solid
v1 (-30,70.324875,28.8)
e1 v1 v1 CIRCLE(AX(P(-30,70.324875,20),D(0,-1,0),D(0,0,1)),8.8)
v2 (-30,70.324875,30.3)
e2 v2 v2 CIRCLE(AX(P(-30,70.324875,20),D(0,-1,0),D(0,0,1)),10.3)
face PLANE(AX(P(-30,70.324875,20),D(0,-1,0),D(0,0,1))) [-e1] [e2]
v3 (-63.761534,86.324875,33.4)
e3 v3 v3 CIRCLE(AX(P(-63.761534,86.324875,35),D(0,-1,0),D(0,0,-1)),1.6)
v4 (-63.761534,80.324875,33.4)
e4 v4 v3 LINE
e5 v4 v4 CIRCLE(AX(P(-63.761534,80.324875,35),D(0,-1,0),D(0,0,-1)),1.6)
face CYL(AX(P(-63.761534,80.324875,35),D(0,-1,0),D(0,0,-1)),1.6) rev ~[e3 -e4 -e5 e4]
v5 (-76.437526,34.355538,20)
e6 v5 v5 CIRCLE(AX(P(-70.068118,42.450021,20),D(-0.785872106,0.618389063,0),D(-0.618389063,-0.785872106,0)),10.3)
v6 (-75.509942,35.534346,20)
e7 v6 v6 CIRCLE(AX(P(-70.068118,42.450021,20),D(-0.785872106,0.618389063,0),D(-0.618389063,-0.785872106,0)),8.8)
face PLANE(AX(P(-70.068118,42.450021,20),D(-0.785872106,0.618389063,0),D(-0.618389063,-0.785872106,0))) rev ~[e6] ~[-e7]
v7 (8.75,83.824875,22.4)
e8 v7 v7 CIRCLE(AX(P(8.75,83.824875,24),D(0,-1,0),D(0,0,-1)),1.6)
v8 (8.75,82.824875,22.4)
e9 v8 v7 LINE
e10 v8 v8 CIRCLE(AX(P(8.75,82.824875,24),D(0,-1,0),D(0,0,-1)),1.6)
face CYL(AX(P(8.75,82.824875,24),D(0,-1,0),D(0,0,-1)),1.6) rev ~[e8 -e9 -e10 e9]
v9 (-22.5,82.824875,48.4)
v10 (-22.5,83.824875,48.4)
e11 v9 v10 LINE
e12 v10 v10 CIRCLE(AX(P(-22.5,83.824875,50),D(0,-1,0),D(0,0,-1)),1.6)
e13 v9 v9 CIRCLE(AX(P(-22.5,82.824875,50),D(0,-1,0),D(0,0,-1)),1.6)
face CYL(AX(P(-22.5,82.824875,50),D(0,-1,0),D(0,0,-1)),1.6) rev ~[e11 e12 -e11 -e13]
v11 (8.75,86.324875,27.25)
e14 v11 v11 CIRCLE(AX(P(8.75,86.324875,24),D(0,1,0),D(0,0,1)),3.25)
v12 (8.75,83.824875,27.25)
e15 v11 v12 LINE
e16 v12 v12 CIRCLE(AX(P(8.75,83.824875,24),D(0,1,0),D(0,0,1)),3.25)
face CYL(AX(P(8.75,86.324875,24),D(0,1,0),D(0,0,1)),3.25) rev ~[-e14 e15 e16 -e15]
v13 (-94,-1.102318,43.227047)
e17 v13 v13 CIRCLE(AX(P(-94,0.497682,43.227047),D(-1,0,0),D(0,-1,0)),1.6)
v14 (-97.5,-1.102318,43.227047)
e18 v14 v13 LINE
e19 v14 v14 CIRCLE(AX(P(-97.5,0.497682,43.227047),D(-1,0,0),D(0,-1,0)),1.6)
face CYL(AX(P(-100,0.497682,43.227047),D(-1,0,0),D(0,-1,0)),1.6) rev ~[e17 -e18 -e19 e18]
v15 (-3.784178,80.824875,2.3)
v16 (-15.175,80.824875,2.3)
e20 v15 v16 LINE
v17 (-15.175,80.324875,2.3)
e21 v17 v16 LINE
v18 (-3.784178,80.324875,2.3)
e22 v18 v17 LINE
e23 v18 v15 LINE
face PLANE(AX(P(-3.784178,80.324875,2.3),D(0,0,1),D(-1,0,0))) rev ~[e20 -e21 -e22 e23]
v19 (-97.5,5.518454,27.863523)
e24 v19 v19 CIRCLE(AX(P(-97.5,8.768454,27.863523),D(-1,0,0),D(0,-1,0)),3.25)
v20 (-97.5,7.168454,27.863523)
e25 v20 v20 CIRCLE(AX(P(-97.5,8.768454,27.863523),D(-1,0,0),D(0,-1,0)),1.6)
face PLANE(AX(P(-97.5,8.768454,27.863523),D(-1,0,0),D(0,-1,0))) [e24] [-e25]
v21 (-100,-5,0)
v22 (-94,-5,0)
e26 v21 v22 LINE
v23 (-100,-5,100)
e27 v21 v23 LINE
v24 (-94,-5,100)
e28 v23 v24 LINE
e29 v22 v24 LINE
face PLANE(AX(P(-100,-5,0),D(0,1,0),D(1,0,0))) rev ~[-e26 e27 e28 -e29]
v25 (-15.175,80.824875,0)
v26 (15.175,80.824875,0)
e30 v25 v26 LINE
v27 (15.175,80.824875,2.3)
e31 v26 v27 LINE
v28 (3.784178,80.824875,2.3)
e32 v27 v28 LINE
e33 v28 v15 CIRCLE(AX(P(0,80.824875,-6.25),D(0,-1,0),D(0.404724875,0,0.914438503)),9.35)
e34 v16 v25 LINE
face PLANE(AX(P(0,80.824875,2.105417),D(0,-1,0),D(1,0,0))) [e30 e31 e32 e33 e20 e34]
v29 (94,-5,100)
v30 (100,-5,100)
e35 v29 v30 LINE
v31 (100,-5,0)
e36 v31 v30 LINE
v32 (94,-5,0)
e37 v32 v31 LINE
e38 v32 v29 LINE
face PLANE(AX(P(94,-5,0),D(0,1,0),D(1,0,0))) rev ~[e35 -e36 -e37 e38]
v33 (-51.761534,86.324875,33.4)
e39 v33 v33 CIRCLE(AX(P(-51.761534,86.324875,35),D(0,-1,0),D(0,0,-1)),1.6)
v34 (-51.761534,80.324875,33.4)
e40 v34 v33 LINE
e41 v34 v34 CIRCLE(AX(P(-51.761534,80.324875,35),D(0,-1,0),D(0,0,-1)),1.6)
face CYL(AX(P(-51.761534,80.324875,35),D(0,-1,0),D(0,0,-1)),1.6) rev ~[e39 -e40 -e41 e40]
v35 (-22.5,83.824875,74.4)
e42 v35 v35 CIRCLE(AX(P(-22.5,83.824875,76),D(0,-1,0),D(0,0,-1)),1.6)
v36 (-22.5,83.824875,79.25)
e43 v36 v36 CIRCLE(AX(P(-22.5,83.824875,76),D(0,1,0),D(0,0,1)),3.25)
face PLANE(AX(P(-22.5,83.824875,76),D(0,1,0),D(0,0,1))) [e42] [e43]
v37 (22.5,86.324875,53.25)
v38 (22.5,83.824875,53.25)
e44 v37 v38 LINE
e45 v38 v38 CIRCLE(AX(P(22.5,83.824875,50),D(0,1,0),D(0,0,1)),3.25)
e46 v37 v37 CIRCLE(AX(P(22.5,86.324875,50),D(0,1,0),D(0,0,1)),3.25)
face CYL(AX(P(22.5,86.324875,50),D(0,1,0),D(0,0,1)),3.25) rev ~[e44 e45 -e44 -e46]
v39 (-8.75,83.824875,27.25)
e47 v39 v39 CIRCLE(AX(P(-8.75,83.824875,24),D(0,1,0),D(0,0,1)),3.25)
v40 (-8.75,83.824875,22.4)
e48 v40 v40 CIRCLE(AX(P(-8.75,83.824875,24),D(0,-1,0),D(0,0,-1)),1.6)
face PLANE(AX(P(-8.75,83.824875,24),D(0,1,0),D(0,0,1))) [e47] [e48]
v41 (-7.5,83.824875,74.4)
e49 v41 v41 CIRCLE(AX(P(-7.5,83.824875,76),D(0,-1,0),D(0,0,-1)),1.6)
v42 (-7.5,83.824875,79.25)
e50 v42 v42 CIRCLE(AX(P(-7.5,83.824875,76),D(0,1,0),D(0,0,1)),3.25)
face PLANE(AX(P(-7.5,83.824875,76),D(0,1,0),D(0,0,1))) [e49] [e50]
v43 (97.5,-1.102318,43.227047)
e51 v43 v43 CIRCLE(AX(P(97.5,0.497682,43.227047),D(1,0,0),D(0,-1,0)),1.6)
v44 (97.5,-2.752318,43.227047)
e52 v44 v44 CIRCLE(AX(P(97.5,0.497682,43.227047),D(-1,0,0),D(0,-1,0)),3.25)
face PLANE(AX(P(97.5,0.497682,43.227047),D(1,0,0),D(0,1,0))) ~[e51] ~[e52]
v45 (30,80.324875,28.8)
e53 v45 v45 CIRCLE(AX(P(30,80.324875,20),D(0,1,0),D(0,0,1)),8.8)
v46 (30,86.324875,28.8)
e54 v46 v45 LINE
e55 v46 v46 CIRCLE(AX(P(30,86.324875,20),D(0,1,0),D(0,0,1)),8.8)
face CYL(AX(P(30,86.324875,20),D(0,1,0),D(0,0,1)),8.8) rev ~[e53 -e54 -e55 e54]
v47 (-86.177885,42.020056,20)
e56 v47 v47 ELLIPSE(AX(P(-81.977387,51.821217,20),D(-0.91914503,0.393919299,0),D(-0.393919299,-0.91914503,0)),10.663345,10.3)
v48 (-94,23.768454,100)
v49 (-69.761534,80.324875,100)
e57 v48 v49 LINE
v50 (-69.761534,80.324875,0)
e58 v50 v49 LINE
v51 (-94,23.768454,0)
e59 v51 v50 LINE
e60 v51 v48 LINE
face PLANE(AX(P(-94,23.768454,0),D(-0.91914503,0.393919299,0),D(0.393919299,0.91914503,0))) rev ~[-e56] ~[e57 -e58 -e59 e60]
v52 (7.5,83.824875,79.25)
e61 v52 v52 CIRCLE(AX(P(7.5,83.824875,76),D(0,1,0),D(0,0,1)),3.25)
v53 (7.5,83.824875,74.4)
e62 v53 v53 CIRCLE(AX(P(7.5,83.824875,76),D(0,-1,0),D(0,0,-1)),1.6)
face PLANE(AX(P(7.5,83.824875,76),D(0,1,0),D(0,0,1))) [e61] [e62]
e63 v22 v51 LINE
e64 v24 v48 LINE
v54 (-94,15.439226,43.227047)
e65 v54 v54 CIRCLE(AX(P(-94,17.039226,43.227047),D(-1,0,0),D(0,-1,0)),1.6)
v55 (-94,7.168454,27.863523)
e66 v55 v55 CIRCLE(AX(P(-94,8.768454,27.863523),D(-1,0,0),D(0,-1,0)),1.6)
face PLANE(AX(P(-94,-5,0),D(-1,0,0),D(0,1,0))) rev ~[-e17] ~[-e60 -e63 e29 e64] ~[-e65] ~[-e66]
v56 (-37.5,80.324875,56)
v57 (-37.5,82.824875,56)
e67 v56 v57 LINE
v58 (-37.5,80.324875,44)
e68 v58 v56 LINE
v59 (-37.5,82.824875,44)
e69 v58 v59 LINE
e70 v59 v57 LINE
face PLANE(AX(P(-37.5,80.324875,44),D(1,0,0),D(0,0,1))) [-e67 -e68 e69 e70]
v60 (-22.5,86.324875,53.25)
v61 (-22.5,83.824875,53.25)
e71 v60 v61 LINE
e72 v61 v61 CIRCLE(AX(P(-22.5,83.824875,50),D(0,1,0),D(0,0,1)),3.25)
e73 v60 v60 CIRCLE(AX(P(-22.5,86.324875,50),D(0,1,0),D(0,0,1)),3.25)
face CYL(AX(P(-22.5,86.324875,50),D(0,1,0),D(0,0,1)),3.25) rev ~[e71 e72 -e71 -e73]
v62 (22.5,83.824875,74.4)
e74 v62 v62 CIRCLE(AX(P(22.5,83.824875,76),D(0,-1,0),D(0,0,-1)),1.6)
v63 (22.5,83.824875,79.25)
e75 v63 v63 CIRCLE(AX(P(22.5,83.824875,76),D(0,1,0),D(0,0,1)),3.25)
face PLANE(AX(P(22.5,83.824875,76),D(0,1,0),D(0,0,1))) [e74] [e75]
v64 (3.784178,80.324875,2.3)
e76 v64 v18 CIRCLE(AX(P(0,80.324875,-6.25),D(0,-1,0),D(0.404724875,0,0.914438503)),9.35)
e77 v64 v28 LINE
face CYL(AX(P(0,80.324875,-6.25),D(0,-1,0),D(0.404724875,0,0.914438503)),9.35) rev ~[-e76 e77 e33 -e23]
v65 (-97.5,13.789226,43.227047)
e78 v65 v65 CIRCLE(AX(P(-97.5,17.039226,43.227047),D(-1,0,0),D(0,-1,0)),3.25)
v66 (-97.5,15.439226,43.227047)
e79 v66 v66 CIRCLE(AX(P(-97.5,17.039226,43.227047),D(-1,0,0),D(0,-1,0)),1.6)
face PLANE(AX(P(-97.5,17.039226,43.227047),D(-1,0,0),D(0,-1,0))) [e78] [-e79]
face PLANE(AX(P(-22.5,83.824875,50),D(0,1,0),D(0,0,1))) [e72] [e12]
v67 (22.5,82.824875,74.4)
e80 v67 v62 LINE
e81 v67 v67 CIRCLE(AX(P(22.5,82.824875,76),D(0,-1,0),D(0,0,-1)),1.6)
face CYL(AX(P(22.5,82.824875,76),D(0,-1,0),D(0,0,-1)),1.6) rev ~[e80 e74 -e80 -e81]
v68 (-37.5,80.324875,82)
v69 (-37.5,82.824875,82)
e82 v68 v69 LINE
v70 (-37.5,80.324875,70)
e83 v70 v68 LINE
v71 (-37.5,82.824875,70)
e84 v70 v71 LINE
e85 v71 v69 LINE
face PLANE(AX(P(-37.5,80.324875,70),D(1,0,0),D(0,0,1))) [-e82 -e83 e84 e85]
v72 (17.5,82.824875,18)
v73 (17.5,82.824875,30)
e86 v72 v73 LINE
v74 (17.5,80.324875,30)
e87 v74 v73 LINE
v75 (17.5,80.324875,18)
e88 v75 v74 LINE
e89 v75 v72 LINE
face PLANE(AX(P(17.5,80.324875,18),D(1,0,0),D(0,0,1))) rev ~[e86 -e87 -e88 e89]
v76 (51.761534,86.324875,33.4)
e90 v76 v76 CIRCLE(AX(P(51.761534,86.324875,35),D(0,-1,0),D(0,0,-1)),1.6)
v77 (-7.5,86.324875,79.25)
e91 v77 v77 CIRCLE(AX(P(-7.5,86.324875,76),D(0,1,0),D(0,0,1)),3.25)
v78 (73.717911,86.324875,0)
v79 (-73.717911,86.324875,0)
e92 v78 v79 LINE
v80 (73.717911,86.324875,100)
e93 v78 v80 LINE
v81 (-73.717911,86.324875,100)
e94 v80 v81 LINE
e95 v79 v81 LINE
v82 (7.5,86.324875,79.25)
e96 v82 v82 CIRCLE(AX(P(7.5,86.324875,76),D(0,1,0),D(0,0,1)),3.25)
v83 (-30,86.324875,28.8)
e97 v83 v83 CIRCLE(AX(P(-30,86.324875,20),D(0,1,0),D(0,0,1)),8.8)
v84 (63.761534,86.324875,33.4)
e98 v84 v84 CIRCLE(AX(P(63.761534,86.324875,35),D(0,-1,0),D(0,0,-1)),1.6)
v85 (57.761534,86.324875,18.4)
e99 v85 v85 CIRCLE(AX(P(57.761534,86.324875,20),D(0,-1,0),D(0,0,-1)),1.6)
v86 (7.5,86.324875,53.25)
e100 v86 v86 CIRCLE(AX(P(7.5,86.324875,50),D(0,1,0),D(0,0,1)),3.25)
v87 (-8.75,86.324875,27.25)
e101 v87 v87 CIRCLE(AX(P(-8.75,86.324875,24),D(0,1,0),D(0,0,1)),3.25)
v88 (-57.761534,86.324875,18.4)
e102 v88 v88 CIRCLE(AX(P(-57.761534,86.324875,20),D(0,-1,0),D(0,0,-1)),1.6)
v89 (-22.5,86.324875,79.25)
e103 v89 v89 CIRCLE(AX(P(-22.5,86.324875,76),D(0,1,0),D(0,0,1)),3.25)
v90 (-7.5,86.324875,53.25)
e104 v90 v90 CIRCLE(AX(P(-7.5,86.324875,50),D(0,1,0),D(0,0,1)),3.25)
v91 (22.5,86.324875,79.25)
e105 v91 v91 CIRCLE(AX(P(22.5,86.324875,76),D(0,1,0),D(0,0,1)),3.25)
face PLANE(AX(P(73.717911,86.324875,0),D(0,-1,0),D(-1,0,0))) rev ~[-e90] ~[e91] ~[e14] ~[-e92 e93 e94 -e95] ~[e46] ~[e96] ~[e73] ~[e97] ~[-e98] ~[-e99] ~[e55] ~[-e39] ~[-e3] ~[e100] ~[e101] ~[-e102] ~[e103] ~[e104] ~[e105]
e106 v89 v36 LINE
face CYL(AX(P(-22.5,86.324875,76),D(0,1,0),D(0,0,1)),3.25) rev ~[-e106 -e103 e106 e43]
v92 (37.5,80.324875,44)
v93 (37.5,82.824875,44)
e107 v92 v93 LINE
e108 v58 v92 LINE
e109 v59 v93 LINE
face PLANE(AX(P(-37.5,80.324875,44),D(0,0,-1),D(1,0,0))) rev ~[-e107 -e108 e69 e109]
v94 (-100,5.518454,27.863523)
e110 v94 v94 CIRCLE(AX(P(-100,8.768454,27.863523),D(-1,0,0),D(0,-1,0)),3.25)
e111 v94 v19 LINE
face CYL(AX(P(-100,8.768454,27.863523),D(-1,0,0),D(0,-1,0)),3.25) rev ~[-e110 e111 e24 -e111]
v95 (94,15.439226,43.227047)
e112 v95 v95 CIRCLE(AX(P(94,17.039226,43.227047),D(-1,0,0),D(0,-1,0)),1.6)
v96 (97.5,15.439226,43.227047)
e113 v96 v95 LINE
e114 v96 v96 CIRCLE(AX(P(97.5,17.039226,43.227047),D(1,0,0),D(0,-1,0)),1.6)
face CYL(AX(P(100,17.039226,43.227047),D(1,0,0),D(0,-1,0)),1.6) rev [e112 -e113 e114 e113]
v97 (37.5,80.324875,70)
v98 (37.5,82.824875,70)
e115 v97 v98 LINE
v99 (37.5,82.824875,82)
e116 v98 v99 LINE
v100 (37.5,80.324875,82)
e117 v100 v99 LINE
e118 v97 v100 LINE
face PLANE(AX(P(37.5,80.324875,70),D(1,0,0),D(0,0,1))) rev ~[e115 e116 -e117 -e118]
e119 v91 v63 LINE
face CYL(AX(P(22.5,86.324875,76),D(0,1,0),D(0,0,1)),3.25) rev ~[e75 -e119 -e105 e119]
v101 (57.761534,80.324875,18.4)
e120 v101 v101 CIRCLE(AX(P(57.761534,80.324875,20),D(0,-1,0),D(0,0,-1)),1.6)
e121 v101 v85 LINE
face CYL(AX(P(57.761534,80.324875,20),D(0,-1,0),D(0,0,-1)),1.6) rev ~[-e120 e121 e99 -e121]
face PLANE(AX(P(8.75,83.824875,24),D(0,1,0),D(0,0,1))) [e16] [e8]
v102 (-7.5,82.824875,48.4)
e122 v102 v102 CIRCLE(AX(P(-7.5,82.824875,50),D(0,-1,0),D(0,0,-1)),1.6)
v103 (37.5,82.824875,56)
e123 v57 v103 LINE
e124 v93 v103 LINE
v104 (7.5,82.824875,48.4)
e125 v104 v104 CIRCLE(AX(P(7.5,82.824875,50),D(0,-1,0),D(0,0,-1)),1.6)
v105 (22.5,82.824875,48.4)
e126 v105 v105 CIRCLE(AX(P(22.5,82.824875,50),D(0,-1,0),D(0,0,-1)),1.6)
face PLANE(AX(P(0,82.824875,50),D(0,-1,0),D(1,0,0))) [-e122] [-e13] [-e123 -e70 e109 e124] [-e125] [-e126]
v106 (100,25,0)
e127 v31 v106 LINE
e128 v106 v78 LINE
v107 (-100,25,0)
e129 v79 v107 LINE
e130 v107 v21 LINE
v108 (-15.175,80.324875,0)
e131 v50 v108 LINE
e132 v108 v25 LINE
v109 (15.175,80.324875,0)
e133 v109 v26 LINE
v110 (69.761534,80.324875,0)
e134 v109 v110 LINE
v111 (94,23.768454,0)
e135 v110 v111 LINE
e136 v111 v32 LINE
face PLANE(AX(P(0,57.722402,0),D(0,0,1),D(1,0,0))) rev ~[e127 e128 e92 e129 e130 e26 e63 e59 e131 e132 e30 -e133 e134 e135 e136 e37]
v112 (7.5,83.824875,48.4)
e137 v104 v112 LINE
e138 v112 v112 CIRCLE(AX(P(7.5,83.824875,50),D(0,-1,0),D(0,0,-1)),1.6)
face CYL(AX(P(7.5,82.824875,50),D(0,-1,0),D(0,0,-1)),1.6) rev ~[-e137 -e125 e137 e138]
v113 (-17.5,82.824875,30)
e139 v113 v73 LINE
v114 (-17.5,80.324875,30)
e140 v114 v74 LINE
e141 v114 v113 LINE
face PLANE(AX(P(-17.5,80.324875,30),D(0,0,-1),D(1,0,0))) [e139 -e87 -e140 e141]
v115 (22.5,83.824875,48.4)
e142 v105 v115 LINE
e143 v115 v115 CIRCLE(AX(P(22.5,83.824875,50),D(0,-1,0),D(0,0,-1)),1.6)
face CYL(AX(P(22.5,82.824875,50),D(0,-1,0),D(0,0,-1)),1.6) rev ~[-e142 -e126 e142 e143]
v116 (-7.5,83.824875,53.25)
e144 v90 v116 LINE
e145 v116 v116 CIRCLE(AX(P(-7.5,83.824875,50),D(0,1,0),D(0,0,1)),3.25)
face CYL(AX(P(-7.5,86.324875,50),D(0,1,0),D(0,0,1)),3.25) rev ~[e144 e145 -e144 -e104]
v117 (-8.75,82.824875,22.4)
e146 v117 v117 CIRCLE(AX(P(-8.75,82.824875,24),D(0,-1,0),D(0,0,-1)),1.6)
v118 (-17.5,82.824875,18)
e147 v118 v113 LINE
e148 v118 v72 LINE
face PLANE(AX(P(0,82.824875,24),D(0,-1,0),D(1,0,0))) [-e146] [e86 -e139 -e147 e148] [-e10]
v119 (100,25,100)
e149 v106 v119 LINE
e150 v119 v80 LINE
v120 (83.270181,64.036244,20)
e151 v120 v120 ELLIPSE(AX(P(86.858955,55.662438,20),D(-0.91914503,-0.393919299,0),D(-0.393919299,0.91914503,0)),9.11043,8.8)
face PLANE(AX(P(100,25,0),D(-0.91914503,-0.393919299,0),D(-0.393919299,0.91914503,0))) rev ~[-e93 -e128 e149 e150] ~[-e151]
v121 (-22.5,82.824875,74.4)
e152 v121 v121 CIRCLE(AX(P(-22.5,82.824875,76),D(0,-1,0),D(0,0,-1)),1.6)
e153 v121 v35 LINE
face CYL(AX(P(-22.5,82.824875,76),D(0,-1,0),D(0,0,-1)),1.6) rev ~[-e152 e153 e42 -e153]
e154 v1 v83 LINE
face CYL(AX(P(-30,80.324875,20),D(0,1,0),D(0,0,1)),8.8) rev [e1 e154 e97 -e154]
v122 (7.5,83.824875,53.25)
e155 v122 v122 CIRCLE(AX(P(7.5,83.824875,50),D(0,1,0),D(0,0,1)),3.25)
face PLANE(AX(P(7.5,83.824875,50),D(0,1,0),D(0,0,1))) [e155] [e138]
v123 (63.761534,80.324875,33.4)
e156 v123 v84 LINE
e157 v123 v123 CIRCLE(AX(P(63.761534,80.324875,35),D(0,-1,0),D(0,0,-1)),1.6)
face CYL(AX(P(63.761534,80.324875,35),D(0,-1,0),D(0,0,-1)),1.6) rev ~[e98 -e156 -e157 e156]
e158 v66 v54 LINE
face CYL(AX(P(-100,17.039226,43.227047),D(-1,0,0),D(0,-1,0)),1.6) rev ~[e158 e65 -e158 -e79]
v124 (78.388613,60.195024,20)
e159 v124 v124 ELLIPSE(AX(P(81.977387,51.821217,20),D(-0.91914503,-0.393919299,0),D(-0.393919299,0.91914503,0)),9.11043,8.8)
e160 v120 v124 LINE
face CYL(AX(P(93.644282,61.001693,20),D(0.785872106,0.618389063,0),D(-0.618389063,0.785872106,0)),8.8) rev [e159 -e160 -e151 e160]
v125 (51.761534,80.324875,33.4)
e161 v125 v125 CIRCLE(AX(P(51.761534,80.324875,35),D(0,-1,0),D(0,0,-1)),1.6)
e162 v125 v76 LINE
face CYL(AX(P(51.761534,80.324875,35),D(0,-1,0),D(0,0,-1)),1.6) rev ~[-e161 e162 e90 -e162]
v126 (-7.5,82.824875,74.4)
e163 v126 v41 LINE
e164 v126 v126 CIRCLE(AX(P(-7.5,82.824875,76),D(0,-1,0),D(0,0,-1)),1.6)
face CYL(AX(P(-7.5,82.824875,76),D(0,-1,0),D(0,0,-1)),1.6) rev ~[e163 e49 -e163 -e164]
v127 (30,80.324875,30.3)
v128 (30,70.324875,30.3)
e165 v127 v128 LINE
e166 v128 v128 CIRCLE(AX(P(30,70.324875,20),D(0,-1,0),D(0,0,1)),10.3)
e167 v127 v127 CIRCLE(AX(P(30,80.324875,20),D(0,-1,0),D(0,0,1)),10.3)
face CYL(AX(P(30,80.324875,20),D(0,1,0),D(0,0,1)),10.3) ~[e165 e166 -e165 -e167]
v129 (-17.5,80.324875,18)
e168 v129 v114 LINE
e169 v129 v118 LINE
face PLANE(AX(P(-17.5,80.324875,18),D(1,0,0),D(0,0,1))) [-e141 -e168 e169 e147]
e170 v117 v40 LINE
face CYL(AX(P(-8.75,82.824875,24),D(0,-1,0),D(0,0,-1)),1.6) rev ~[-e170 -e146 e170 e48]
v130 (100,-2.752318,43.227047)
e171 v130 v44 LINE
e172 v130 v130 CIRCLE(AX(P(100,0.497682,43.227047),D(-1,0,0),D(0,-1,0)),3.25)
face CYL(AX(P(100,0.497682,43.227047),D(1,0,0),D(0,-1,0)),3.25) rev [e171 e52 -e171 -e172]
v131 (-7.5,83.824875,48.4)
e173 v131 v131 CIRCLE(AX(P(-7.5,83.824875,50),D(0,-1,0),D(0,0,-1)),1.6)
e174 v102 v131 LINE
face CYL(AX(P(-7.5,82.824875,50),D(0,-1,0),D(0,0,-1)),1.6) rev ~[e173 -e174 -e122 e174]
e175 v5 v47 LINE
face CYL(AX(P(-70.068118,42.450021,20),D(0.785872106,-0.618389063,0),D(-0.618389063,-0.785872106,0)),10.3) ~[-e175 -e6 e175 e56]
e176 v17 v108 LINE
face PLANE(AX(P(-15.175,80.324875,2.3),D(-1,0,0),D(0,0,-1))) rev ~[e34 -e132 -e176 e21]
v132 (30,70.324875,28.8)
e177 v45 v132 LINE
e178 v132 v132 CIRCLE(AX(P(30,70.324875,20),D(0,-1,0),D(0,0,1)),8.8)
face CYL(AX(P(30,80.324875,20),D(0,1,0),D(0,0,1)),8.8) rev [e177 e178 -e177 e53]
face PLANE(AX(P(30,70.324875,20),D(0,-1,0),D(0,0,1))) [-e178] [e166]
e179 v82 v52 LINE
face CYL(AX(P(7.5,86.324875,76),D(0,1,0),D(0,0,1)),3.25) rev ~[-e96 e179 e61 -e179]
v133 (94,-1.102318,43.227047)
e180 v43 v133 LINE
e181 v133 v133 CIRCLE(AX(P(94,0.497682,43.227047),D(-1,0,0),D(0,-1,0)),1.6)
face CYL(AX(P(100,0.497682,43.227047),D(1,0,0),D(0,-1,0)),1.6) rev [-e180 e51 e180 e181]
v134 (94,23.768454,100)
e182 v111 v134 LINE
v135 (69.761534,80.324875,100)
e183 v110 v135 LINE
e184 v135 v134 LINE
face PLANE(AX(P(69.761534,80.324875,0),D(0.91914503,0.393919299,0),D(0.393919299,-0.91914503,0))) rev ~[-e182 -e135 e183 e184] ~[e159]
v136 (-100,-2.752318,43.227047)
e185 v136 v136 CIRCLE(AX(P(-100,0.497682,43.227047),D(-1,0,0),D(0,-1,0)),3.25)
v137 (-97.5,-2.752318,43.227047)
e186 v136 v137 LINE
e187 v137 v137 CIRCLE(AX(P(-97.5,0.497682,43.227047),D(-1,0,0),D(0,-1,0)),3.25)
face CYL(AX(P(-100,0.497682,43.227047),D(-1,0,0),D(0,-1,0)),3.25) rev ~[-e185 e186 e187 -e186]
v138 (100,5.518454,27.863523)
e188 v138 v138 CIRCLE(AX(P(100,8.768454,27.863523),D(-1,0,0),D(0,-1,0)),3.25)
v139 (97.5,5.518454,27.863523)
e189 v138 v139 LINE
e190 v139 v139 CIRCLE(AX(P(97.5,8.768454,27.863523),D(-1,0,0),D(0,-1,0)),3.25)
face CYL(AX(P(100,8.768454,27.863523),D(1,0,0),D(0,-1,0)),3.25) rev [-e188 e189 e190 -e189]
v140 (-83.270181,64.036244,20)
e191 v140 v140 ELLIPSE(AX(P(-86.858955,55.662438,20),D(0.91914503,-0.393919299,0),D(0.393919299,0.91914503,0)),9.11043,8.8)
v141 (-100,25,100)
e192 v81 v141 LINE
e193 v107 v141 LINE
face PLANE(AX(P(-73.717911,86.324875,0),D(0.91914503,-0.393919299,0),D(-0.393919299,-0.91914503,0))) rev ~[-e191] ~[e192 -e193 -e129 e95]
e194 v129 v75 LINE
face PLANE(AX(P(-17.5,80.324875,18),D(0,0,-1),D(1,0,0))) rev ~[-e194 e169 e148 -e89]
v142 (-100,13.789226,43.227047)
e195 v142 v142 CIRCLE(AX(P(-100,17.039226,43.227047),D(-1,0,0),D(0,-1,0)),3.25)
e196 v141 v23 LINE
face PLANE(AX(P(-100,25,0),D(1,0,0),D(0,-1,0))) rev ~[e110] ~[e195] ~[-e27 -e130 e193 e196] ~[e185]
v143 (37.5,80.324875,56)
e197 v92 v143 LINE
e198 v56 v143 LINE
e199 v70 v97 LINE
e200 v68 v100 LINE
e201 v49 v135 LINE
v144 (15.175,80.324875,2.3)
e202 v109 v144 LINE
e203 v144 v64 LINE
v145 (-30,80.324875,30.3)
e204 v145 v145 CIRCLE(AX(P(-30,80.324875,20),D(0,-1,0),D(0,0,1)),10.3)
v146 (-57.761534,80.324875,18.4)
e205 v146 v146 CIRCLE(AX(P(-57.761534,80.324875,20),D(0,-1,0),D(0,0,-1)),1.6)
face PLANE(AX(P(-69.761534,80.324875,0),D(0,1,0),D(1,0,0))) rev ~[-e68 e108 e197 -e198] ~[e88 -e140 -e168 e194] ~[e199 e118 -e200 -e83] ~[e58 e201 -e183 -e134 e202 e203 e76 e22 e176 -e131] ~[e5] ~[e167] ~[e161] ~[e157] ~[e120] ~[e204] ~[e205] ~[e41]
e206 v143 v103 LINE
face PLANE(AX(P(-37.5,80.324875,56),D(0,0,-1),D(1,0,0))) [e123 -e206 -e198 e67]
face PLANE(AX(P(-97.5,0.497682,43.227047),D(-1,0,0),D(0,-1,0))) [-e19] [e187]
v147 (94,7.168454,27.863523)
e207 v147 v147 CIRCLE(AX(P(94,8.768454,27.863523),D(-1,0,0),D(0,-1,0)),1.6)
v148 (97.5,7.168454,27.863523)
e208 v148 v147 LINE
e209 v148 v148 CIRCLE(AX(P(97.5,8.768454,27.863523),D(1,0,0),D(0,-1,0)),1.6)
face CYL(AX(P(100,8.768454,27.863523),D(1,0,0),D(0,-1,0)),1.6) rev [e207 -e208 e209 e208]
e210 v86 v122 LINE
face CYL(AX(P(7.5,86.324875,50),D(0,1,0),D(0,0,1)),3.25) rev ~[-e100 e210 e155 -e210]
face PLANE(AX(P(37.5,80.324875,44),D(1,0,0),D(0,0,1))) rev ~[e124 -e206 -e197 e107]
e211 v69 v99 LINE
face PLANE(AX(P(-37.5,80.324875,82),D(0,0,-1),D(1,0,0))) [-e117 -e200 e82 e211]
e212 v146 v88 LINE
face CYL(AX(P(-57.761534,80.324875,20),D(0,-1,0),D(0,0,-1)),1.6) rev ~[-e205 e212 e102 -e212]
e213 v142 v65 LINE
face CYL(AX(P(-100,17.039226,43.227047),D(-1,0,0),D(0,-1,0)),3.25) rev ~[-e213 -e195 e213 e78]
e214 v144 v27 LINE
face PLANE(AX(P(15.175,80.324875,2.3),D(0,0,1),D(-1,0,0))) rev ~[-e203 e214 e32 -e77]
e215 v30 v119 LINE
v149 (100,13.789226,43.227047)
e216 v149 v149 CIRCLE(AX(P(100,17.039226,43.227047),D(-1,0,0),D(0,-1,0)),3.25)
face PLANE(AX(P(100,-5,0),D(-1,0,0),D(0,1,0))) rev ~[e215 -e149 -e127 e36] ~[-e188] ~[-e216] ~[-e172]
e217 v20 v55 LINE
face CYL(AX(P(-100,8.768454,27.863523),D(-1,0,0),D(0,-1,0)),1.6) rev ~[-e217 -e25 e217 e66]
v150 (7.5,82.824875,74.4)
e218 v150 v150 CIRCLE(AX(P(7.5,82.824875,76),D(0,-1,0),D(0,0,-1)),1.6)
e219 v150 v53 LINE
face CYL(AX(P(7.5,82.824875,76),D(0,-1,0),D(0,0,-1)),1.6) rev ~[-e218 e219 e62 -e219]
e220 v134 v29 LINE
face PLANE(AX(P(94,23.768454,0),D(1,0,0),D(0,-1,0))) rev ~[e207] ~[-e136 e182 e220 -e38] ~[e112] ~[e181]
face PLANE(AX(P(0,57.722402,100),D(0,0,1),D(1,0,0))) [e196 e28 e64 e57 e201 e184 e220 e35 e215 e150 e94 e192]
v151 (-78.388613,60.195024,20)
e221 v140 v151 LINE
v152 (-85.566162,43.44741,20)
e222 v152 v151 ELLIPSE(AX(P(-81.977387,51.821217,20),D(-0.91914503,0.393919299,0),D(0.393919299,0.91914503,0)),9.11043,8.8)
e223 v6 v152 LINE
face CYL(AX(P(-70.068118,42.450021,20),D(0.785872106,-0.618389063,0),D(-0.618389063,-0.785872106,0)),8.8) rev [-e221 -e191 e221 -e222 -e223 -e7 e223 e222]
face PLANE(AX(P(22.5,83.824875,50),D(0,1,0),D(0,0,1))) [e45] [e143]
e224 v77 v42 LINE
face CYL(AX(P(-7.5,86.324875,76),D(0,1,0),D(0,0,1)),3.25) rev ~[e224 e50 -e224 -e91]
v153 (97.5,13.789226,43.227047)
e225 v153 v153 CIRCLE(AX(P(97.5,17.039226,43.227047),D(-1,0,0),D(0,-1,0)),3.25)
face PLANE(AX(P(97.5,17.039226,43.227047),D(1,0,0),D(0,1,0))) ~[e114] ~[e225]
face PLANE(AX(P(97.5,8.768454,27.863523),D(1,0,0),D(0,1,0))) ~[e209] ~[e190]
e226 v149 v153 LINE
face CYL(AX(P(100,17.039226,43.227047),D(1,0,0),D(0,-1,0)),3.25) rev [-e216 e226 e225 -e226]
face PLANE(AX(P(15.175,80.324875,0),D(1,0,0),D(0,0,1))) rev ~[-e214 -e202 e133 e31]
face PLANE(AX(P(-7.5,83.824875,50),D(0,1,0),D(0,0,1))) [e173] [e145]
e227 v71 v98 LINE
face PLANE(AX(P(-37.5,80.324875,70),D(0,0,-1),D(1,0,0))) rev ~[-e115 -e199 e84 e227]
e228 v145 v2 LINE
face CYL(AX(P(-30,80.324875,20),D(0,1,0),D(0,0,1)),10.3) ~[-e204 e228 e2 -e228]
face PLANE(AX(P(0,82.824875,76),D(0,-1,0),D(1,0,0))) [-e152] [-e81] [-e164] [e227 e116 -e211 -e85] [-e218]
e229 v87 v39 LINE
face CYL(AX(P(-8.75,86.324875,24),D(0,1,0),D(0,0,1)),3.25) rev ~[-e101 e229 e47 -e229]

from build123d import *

# Parameters (mm, degrees)
SALIENTE_EXTRUIR1_DEPTH = 100
CORTAR_EXTRUIR1_REACH   = 170.346
CROQUIS3_R              = 8.8
CORTAR_EXTRUIR2_REACH   = 226.945
CROQUIS4_R              = 8.8
CORTAR_EXTRUIR3_DEPTH   = 0.5
CORTAR_EXTRUIR4_REACH   = 241.691
CROQUIS6_R              = 1.6
CROQUIS7_R              = 3.25
CORTAR_EXTRUIR5_DEPTH   = 2.5
CROQUIS8_W              = 75
CROQUIS8_H              = 12
CROQUIS8_W_2            = 35
CORTAR_EXTRUIR6_DEPTH   = 2.5
CORTAR_EXTRUIR7_REACH   = 168.473
CROQUIS9_R              = 1.6
CROQUIS10_R             = 3.25
CORTAR_EXTRUIR8_DEPTH   = 2.5
CROQUIS11_R             = 10.3
CROQUIS11_R_2           = 8.8
SALIENTE_EXTRUIR2_DEPTH = 10
SALIENTE_EXTRUIR3_REACH = 201.802
CROQUIS12_R             = 10.3
CROQUIS12_R_2           = 8.8
CORTAR_EXTRUIR9_REACH   = 167.168
CROQUIS13_R             = 1.6


with BuildPart() as part:
    # Croquis1 → Saliente-Extruir1 (new body)
    with BuildSketch(Plane.XY):
        Polygon((-100, 25), (-100, -5), (-94, -5), (-94, 23.768453788), (-69.761533754, 80.324875029), (69.761533754, 80.324875029), (94, 23.768453788), (94, -5), (100, -5), (100, 25), (73.717910702, 86.324875029), (-73.717910702, 86.324875029), align=None)
    extrude(amount=SALIENTE_EXTRUIR1_DEPTH)

    # Croquis3 → Cortar-Extruir1 (cut, up to next)
    with BuildSketch(Plane(origin=(0, 86.324875029, 0), x_dir=(1, 0, 0), z_dir=(0, 1, 0)), mode=Mode.PRIVATE) as cortar_extruir1_sk1:
        with Locations(Location((-30, -20, 0), (0, 0, 270))):
            Circle(CROQUIS3_R)
    cortar_extruir1_tool1 = extrude(cortar_extruir1_sk1.sketch, amount=-CORTAR_EXTRUIR1_REACH, mode=Mode.PRIVATE) & part.part
    # Croquis3 → Cortar-Extruir1 (cut, up to next)
    with BuildSketch(Plane(origin=(0, 86.324875029, 0), x_dir=(1, 0, 0), z_dir=(0, 1, 0)), mode=Mode.PRIVATE) as cortar_extruir1_sk2:
        with Locations(Location((30, -20, 0), (0, 0, 270))):
            Circle(CROQUIS3_R)
    cortar_extruir1_tool2 = extrude(cortar_extruir1_sk2.sketch, amount=-CORTAR_EXTRUIR1_REACH, mode=Mode.PRIVATE) & part.part
    add(cortar_extruir1_tool1.solids().sort_by_distance((-30, 86.324875, 20))[0], mode=Mode.SUBTRACT)
    add(cortar_extruir1_tool2.solids().sort_by_distance((30, 86.324875, 20))[0], mode=Mode.SUBTRACT)

    # Cortar-Extruir2: up to this plane
    cortar_extruir2_end = Plane(origin=(-94, 23.768453788, 100), z_dir=(-0.9191450300180581, 0.3939192985791672, 0))
    # Croquis4 → Cortar-Extruir2 (cut, up to the surface)
    with BuildSketch(Plane(origin=(-87.479517168, 68.836107355, 0), x_dir=(0, 0, -1), z_dir=(-0.7858721058939679, 0.6183890629512945, 0)), mode=Mode.PRIVATE) as cortar_extruir2_sk1:
        with Locations(Location((-20, 9.96907102, 0), (0, 0, 270))):
            Circle(CROQUIS4_R)
    cortar_extruir2_tool1 = split(extrude(cortar_extruir2_sk1.sketch, amount=-CORTAR_EXTRUIR2_REACH, mode=Mode.PRIVATE), bisect_by=cortar_extruir2_end, keep=Keep.BOTH, mode=Mode.PRIVATE)
    cortar_extruir2 = cortar_extruir2_tool1.solids().sort_by_distance((-93.644282, 61.001693, 20))[0]
    add(cortar_extruir2, mode=Mode.SUBTRACT)

    # Simetría1: Cortar-Extruir2 across plane
    add(cortar_extruir2.mirror(Plane(origin=(0, 0, 0), x_dir=(0, 0, 1), z_dir=(1, 0, 0))), mode=Mode.SUBTRACT)

    # Croquis5 → Cortar-Extruir3 (cut)
    with BuildSketch(Plane.XZ.offset(-80.324875029)):
        with BuildLine():
            Line((14.875, 0), (15.175, 0))
            Line((15.175, 0), (15.175, 2.3))
            Line((15.175, 2.3), (3.784177586, 2.3))
            ThreePointArc((3.784177586, 2.3), (0, 3.1), (-3.784177586, 2.3))
            Line((-3.784177586, 2.3), (-15.175, 2.3))
            Line((-15.175, 2.3), (-15.175, 0))
            Line((-15.175, 0), (-14.875, 0))
            Line((-14.875, 0), (-14.875, 2))
            Line((-14.875, 2), (-3.720215048, 2))
            ThreePointArc((-3.720215048, 2), (0, 2.8), (3.720215048, 2))
            Line((3.720215048, 2), (14.875, 2))
            Line((14.875, 2), (14.875, 0))
        make_face()
        with BuildLine():
            Line((3.261901286, 0), (14.875, 0))
            Line((14.875, 0), (14.875, 2))
            Line((14.875, 2), (3.720215048, 2))
            ThreePointArc((3.720215048, 2), (0, 2.8), (-3.720215048, 2))
            Line((-3.720215048, 2), (-14.875, 2))
            Line((-14.875, 2), (-14.875, 0))
            Line((-14.875, 0), (-3.261901286, 0))
            ThreePointArc((-3.261901286, 0), (0, 0.8), (3.261901286, 0))
        make_face()
        with BuildLine():
            Line((-3.261901286, 0), (3.261901286, 0))
            ThreePointArc((3.261901286, 0), (0, 0.8), (-3.261901286, 0))
        make_face()
    extrude(amount=-CORTAR_EXTRUIR3_DEPTH, mode=Mode.SUBTRACT)

    # Croquis6 → Cortar-Extruir4 (cut, up to next)
    with BuildSketch(Plane.ZY.offset(100), mode=Mode.PRIVATE) as cortar_extruir4_sk1:
        with Locations(Location((43.227046774, 0.497681725, 0), (0, 0, 270))):
            Circle(CROQUIS6_R)
    cortar_extruir4_tool1 = extrude(cortar_extruir4_sk1.sketch, amount=-CORTAR_EXTRUIR4_REACH, mode=Mode.PRIVATE) & part.part
    # Croquis6 → Cortar-Extruir4 (cut, up to next)
    with BuildSketch(Plane.ZY.offset(100), mode=Mode.PRIVATE) as cortar_extruir4_sk2:
        with Locations(Location((27.863523387, 8.768453788, 0), (0, 0, 270))):
            Circle(CROQUIS6_R)
    cortar_extruir4_tool2 = extrude(cortar_extruir4_sk2.sketch, amount=-CORTAR_EXTRUIR4_REACH, mode=Mode.PRIVATE) & part.part
    # Croquis6 → Cortar-Extruir4 (cut, up to next)
    with BuildSketch(Plane.ZY.offset(100), mode=Mode.PRIVATE) as cortar_extruir4_sk3:
        with Locations(Location((43.227046774, 17.039225851, 0), (0, 0, 270))):
            Circle(CROQUIS6_R)
    cortar_extruir4_tool3 = extrude(cortar_extruir4_sk3.sketch, amount=-CORTAR_EXTRUIR4_REACH, mode=Mode.PRIVATE) & part.part
    cortar_extruir4_1 = cortar_extruir4_tool1.solids().sort_by_distance((-100, 0.497682, 43.227047))[0]
    add(cortar_extruir4_1, mode=Mode.SUBTRACT)
    cortar_extruir4_2 = cortar_extruir4_tool2.solids().sort_by_distance((-100, 8.768454, 27.863523))[0]
    add(cortar_extruir4_2, mode=Mode.SUBTRACT)
    cortar_extruir4_3 = cortar_extruir4_tool3.solids().sort_by_distance((-100, 17.039226, 43.227047))[0]
    add(cortar_extruir4_3, mode=Mode.SUBTRACT)
    cortar_extruir4 = cortar_extruir4_1 + cortar_extruir4_2 + cortar_extruir4_3  # Cortar-Extruir4 as one shape, for the pattern or mirror that repeats it

    # Croquis7 → Cortar-Extruir5 (cut)
    with BuildSketch(Plane.ZY.offset(100)):
        with Locations(Location((27.863523387, 8.768453788, 0), (0, 0, 270))):
            Circle(CROQUIS7_R)
        with Locations(Location((43.227046774, 0.497681725, 0), (0, 0, 270))):
            Circle(CROQUIS7_R)
        with Locations(Location((43.227046774, 17.039225851, 0), (0, 0, 270))):
            Circle(CROQUIS7_R)
    cortar_extruir5 = extrude(amount=-CORTAR_EXTRUIR5_DEPTH, mode=Mode.SUBTRACT)

    # Simetría2: Cortar-Extruir4, Cortar-Extruir5 across plane
    add(cortar_extruir4.mirror(Plane(origin=(0, 0, 0), x_dir=(0, 0, 1), z_dir=(1, 0, 0))), mode=Mode.SUBTRACT)
    add(cortar_extruir5.mirror(Plane(origin=(0, 0, 0), x_dir=(0, 0, 1), z_dir=(1, 0, 0))), mode=Mode.SUBTRACT)

    # Croquis8 → Cortar-Extruir6 (cut)
    with BuildSketch(Plane.XZ.offset(-80.324875029)):
        with Locations((0, 76)):
            Rectangle(CROQUIS8_W, CROQUIS8_H)
        with Locations((0, 50)):
            Rectangle(CROQUIS8_W, CROQUIS8_H)
        with Locations((0, 24)):
            Rectangle(CROQUIS8_W_2, CROQUIS8_H)
    extrude(amount=-CORTAR_EXTRUIR6_DEPTH, mode=Mode.SUBTRACT)

    # Croquis9 → Cortar-Extruir7 (cut, up to next)
    with BuildSketch(Plane.XZ.offset(-82.824875029), mode=Mode.PRIVATE) as cortar_extruir7_sk1:
        with Locations(Location((-22.5, 76, 0), (0, 0, 270))):
            Circle(CROQUIS9_R)
    cortar_extruir7_tool1 = extrude(cortar_extruir7_sk1.sketch, amount=-CORTAR_EXTRUIR7_REACH, mode=Mode.PRIVATE) & part.part
    # Croquis9 → Cortar-Extruir7 (cut, up to next)
    with BuildSketch(Plane.XZ.offset(-82.824875029), mode=Mode.PRIVATE) as cortar_extruir7_sk2:
        with Locations(Location((-7.5, 76, 0), (0, 0, 270))):
            Circle(CROQUIS9_R)
    cortar_extruir7_tool2 = extrude(cortar_extruir7_sk2.sketch, amount=-CORTAR_EXTRUIR7_REACH, mode=Mode.PRIVATE) & part.part
    # Croquis9 → Cortar-Extruir7 (cut, up to next)
    with BuildSketch(Plane.XZ.offset(-82.824875029), mode=Mode.PRIVATE) as cortar_extruir7_sk3:
        with Locations(Location((7.5, 76, 0), (0, 0, 270))):
            Circle(CROQUIS9_R)
    cortar_extruir7_tool3 = extrude(cortar_extruir7_sk3.sketch, amount=-CORTAR_EXTRUIR7_REACH, mode=Mode.PRIVATE) & part.part
    # Croquis9 → Cortar-Extruir7 (cut, up to next)
    with BuildSketch(Plane.XZ.offset(-82.824875029), mode=Mode.PRIVATE) as cortar_extruir7_sk4:
        with Locations(Location((22.5, 76, 0), (0, 0, 270))):
            Circle(CROQUIS9_R)
    cortar_extruir7_tool4 = extrude(cortar_extruir7_sk4.sketch, amount=-CORTAR_EXTRUIR7_REACH, mode=Mode.PRIVATE) & part.part
    # Croquis9 → Cortar-Extruir7 (cut, up to next)
    with BuildSketch(Plane.XZ.offset(-82.824875029), mode=Mode.PRIVATE) as cortar_extruir7_sk5:
        with Locations(Location((-22.5, 50, 0), (0, 0, 270))):
            Circle(CROQUIS9_R)
    cortar_extruir7_tool5 = extrude(cortar_extruir7_sk5.sketch, amount=-CORTAR_EXTRUIR7_REACH, mode=Mode.PRIVATE) & part.part
    # Croquis9 → Cortar-Extruir7 (cut, up to next)
    with BuildSketch(Plane.XZ.offset(-82.824875029), mode=Mode.PRIVATE) as cortar_extruir7_sk6:
        with Locations(Location((-7.5, 50, 0), (0, 0, 270))):
            Circle(CROQUIS9_R)
    cortar_extruir7_tool6 = extrude(cortar_extruir7_sk6.sketch, amount=-CORTAR_EXTRUIR7_REACH, mode=Mode.PRIVATE) & part.part
    # Croquis9 → Cortar-Extruir7 (cut, up to next)
    with BuildSketch(Plane.XZ.offset(-82.824875029), mode=Mode.PRIVATE) as cortar_extruir7_sk7:
        with Locations(Location((7.5, 50, 0), (0, 0, 270))):
            Circle(CROQUIS9_R)
    cortar_extruir7_tool7 = extrude(cortar_extruir7_sk7.sketch, amount=-CORTAR_EXTRUIR7_REACH, mode=Mode.PRIVATE) & part.part
    # Croquis9 → Cortar-Extruir7 (cut, up to next)
    with BuildSketch(Plane.XZ.offset(-82.824875029), mode=Mode.PRIVATE) as cortar_extruir7_sk8:
        with Locations(Location((22.5, 50, 0), (0, 0, 270))):
            Circle(CROQUIS9_R)
    cortar_extruir7_tool8 = extrude(cortar_extruir7_sk8.sketch, amount=-CORTAR_EXTRUIR7_REACH, mode=Mode.PRIVATE) & part.part
    # Croquis9 → Cortar-Extruir7 (cut, up to next)
    with BuildSketch(Plane.XZ.offset(-82.824875029), mode=Mode.PRIVATE) as cortar_extruir7_sk9:
        with Locations(Location((-8.75, 24, 0), (0, 0, 270))):
            Circle(CROQUIS9_R)
    cortar_extruir7_tool9 = extrude(cortar_extruir7_sk9.sketch, amount=-CORTAR_EXTRUIR7_REACH, mode=Mode.PRIVATE) & part.part
    # Croquis9 → Cortar-Extruir7 (cut, up to next)
    with BuildSketch(Plane.XZ.offset(-82.824875029), mode=Mode.PRIVATE) as cortar_extruir7_sk10:
        with Locations(Location((8.75, 24, 0), (0, 0, 270))):
            Circle(CROQUIS9_R)
    cortar_extruir7_tool10 = extrude(cortar_extruir7_sk10.sketch, amount=-CORTAR_EXTRUIR7_REACH, mode=Mode.PRIVATE) & part.part
    add(cortar_extruir7_tool1.solids().sort_by_distance((-22.5, 82.824875, 76))[0], mode=Mode.SUBTRACT)
    add(cortar_extruir7_tool2.solids().sort_by_distance((-7.5, 82.824875, 76))[0], mode=Mode.SUBTRACT)
    add(cortar_extruir7_tool3.solids().sort_by_distance((7.5, 82.824875, 76))[0], mode=Mode.SUBTRACT)
    add(cortar_extruir7_tool4.solids().sort_by_distance((22.5, 82.824875, 76))[0], mode=Mode.SUBTRACT)
    add(cortar_extruir7_tool5.solids().sort_by_distance((-22.5, 82.824875, 50))[0], mode=Mode.SUBTRACT)
    add(cortar_extruir7_tool6.solids().sort_by_distance((-7.5, 82.824875, 50))[0], mode=Mode.SUBTRACT)
    add(cortar_extruir7_tool7.solids().sort_by_distance((7.5, 82.824875, 50))[0], mode=Mode.SUBTRACT)
    add(cortar_extruir7_tool8.solids().sort_by_distance((22.5, 82.824875, 50))[0], mode=Mode.SUBTRACT)
    add(cortar_extruir7_tool9.solids().sort_by_distance((-8.75, 82.824875, 24))[0], mode=Mode.SUBTRACT)
    add(cortar_extruir7_tool10.solids().sort_by_distance((8.75, 82.824875, 24))[0], mode=Mode.SUBTRACT)

    # Croquis10 → Cortar-Extruir8 (cut)
    with BuildSketch(Plane(origin=(0, 86.324875029, 0), x_dir=(1, 0, 0), z_dir=(0, 1, 0))):
        with Locations(Location((-22.5, -50, 0), (0, 0, 270))):
            Circle(CROQUIS10_R)
        with Locations(Location((-7.5, -50, 0), (0, 0, 270))):
            Circle(CROQUIS10_R)
        with Locations(Location((7.5, -50, 0), (0, 0, 270))):
            Circle(CROQUIS10_R)
        with Locations(Location((22.5, -50, 0), (0, 0, 270))):
            Circle(CROQUIS10_R)
        with Locations(Location((8.75, -24, 0), (0, 0, 270))):
            Circle(CROQUIS10_R)
        with Locations(Location((-8.75, -24, 0), (0, 0, 270))):
            Circle(CROQUIS10_R)
        with Locations(Location((22.5, -76, 0), (0, 0, 270))):
            Circle(CROQUIS10_R)
        with Locations(Location((7.5, -76, 0), (0, 0, 270))):
            Circle(CROQUIS10_R)
        with Locations(Location((-7.5, -76, 0), (0, 0, 270))):
            Circle(CROQUIS10_R)
        with Locations(Location((-22.5, -76, 0), (0, 0, 270))):
            Circle(CROQUIS10_R)
    extrude(amount=-CORTAR_EXTRUIR8_DEPTH, mode=Mode.SUBTRACT)

    # Croquis11 → Saliente-Extruir2 (add)
    with BuildSketch(Plane.XZ.offset(-80.324875029)):
        with Locations(Location((-30, 20, 0), (0, 0, 90))):
            Circle(CROQUIS11_R)
        with Locations(Location((-30, 20, 0), (0, 0, 90))):
            Circle(CROQUIS11_R_2, mode=Mode.SUBTRACT)
        with Locations(Location((30, 20, 0), (0, 0, 90))):
            Circle(CROQUIS11_R)
        with Locations(Location((30, 20, 0), (0, 0, 90))):
            Circle(CROQUIS11_R_2, mode=Mode.SUBTRACT)
    extrude(amount=SALIENTE_EXTRUIR2_DEPTH)

    # Saliente-Extruir3: up to this plane
    saliente_extruir3_end = Plane(origin=(-94, 23.768453788, 100), z_dir=(-0.9191450300180581, 0.3939192985791672, 0))
    # Croquis12 → Saliente-Extruir3 (add, up to the surface)
    with BuildSketch(Plane(origin=(-63.903353991, 50.284435467, 0), x_dir=(0, 0, -1), z_dir=(-0.7858721058939679, 0.6183890629512945, 0)), mode=Mode.PRIVATE) as saliente_extruir3_sk1:
        with Locations(Location((-20, 9.96907102, 0), (0, 0, 90))):
            Circle(CROQUIS12_R)
        with Locations(Location((-20, 9.96907102, 0), (0, 0, 90))):
            Circle(CROQUIS12_R_2, mode=Mode.SUBTRACT)
    saliente_extruir3_tool1 = split(extrude(saliente_extruir3_sk1.sketch, amount=SALIENTE_EXTRUIR3_REACH, mode=Mode.PRIVATE), bisect_by=saliente_extruir3_end, keep=Keep.BOTH, mode=Mode.PRIVATE)
    add(saliente_extruir3_tool1.solids().sort_by_distance((-63.878865, 50.315557, 20))[0])

    # Croquis13 → Cortar-Extruir9 (cut, up to next)
    with BuildSketch(Plane.XZ.offset(-80.324875029), mode=Mode.PRIVATE) as cortar_extruir9_sk1:
        with Locations(Location((57.761533754, 20, 0), (0, 0, 270))):
            Circle(CROQUIS13_R)
    cortar_extruir9_tool1 = extrude(cortar_extruir9_sk1.sketch, amount=-CORTAR_EXTRUIR9_REACH, mode=Mode.PRIVATE) & part.part
    # Croquis13 → Cortar-Extruir9 (cut, up to next)
    with BuildSketch(Plane.XZ.offset(-80.324875029), mode=Mode.PRIVATE) as cortar_extruir9_sk2:
        with Locations(Location((51.761533754, 35, 0), (0, 0, 270))):
            Circle(CROQUIS13_R)
    cortar_extruir9_tool2 = extrude(cortar_extruir9_sk2.sketch, amount=-CORTAR_EXTRUIR9_REACH, mode=Mode.PRIVATE) & part.part
    # Croquis13 → Cortar-Extruir9 (cut, up to next)
    with BuildSketch(Plane.XZ.offset(-80.324875029), mode=Mode.PRIVATE) as cortar_extruir9_sk3:
        with Locations(Location((63.761533754, 35, 0), (0, 0, 270))):
            Circle(CROQUIS13_R)
    cortar_extruir9_tool3 = extrude(cortar_extruir9_sk3.sketch, amount=-CORTAR_EXTRUIR9_REACH, mode=Mode.PRIVATE) & part.part
    # Croquis13 → Cortar-Extruir9 (cut, up to next)
    with BuildSketch(Plane.XZ.offset(-80.324875029), mode=Mode.PRIVATE) as cortar_extruir9_sk4:
        with Locations(Location((-57.761533754, 20, 0), (0, 0, 270))):
            Circle(CROQUIS13_R)
    cortar_extruir9_tool4 = extrude(cortar_extruir9_sk4.sketch, amount=-CORTAR_EXTRUIR9_REACH, mode=Mode.PRIVATE) & part.part
    # Croquis13 → Cortar-Extruir9 (cut, up to next)
    with BuildSketch(Plane.XZ.offset(-80.324875029), mode=Mode.PRIVATE) as cortar_extruir9_sk5:
        with Locations(Location((-63.761533754, 35, 0), (0, 0, 270))):
            Circle(CROQUIS13_R)
    cortar_extruir9_tool5 = extrude(cortar_extruir9_sk5.sketch, amount=-CORTAR_EXTRUIR9_REACH, mode=Mode.PRIVATE) & part.part
    # Croquis13 → Cortar-Extruir9 (cut, up to next)
    with BuildSketch(Plane.XZ.offset(-80.324875029), mode=Mode.PRIVATE) as cortar_extruir9_sk6:
        with Locations(Location((-51.761533754, 35, 0), (0, 0, 270))):
            Circle(CROQUIS13_R)
    cortar_extruir9_tool6 = extrude(cortar_extruir9_sk6.sketch, amount=-CORTAR_EXTRUIR9_REACH, mode=Mode.PRIVATE) & part.part
    add(cortar_extruir9_tool1.solids().sort_by_distance((57.761534, 80.324875, 20))[0], mode=Mode.SUBTRACT)
    add(cortar_extruir9_tool2.solids().sort_by_distance((51.761534, 80.324875, 35))[0], mode=Mode.SUBTRACT)
    add(cortar_extruir9_tool3.solids().sort_by_distance((63.761534, 80.324875, 35))[0], mode=Mode.SUBTRACT)
    add(cortar_extruir9_tool4.solids().sort_by_distance((-57.761534, 80.324875, 20))[0], mode=Mode.SUBTRACT)
    add(cortar_extruir9_tool5.solids().sort_by_distance((-63.761534, 80.324875, 35))[0], mode=Mode.SUBTRACT)
    add(cortar_extruir9_tool6.solids().sort_by_distance((-51.761534, 80.324875, 35))[0], mode=Mode.SUBTRACT)


solid = part.part
